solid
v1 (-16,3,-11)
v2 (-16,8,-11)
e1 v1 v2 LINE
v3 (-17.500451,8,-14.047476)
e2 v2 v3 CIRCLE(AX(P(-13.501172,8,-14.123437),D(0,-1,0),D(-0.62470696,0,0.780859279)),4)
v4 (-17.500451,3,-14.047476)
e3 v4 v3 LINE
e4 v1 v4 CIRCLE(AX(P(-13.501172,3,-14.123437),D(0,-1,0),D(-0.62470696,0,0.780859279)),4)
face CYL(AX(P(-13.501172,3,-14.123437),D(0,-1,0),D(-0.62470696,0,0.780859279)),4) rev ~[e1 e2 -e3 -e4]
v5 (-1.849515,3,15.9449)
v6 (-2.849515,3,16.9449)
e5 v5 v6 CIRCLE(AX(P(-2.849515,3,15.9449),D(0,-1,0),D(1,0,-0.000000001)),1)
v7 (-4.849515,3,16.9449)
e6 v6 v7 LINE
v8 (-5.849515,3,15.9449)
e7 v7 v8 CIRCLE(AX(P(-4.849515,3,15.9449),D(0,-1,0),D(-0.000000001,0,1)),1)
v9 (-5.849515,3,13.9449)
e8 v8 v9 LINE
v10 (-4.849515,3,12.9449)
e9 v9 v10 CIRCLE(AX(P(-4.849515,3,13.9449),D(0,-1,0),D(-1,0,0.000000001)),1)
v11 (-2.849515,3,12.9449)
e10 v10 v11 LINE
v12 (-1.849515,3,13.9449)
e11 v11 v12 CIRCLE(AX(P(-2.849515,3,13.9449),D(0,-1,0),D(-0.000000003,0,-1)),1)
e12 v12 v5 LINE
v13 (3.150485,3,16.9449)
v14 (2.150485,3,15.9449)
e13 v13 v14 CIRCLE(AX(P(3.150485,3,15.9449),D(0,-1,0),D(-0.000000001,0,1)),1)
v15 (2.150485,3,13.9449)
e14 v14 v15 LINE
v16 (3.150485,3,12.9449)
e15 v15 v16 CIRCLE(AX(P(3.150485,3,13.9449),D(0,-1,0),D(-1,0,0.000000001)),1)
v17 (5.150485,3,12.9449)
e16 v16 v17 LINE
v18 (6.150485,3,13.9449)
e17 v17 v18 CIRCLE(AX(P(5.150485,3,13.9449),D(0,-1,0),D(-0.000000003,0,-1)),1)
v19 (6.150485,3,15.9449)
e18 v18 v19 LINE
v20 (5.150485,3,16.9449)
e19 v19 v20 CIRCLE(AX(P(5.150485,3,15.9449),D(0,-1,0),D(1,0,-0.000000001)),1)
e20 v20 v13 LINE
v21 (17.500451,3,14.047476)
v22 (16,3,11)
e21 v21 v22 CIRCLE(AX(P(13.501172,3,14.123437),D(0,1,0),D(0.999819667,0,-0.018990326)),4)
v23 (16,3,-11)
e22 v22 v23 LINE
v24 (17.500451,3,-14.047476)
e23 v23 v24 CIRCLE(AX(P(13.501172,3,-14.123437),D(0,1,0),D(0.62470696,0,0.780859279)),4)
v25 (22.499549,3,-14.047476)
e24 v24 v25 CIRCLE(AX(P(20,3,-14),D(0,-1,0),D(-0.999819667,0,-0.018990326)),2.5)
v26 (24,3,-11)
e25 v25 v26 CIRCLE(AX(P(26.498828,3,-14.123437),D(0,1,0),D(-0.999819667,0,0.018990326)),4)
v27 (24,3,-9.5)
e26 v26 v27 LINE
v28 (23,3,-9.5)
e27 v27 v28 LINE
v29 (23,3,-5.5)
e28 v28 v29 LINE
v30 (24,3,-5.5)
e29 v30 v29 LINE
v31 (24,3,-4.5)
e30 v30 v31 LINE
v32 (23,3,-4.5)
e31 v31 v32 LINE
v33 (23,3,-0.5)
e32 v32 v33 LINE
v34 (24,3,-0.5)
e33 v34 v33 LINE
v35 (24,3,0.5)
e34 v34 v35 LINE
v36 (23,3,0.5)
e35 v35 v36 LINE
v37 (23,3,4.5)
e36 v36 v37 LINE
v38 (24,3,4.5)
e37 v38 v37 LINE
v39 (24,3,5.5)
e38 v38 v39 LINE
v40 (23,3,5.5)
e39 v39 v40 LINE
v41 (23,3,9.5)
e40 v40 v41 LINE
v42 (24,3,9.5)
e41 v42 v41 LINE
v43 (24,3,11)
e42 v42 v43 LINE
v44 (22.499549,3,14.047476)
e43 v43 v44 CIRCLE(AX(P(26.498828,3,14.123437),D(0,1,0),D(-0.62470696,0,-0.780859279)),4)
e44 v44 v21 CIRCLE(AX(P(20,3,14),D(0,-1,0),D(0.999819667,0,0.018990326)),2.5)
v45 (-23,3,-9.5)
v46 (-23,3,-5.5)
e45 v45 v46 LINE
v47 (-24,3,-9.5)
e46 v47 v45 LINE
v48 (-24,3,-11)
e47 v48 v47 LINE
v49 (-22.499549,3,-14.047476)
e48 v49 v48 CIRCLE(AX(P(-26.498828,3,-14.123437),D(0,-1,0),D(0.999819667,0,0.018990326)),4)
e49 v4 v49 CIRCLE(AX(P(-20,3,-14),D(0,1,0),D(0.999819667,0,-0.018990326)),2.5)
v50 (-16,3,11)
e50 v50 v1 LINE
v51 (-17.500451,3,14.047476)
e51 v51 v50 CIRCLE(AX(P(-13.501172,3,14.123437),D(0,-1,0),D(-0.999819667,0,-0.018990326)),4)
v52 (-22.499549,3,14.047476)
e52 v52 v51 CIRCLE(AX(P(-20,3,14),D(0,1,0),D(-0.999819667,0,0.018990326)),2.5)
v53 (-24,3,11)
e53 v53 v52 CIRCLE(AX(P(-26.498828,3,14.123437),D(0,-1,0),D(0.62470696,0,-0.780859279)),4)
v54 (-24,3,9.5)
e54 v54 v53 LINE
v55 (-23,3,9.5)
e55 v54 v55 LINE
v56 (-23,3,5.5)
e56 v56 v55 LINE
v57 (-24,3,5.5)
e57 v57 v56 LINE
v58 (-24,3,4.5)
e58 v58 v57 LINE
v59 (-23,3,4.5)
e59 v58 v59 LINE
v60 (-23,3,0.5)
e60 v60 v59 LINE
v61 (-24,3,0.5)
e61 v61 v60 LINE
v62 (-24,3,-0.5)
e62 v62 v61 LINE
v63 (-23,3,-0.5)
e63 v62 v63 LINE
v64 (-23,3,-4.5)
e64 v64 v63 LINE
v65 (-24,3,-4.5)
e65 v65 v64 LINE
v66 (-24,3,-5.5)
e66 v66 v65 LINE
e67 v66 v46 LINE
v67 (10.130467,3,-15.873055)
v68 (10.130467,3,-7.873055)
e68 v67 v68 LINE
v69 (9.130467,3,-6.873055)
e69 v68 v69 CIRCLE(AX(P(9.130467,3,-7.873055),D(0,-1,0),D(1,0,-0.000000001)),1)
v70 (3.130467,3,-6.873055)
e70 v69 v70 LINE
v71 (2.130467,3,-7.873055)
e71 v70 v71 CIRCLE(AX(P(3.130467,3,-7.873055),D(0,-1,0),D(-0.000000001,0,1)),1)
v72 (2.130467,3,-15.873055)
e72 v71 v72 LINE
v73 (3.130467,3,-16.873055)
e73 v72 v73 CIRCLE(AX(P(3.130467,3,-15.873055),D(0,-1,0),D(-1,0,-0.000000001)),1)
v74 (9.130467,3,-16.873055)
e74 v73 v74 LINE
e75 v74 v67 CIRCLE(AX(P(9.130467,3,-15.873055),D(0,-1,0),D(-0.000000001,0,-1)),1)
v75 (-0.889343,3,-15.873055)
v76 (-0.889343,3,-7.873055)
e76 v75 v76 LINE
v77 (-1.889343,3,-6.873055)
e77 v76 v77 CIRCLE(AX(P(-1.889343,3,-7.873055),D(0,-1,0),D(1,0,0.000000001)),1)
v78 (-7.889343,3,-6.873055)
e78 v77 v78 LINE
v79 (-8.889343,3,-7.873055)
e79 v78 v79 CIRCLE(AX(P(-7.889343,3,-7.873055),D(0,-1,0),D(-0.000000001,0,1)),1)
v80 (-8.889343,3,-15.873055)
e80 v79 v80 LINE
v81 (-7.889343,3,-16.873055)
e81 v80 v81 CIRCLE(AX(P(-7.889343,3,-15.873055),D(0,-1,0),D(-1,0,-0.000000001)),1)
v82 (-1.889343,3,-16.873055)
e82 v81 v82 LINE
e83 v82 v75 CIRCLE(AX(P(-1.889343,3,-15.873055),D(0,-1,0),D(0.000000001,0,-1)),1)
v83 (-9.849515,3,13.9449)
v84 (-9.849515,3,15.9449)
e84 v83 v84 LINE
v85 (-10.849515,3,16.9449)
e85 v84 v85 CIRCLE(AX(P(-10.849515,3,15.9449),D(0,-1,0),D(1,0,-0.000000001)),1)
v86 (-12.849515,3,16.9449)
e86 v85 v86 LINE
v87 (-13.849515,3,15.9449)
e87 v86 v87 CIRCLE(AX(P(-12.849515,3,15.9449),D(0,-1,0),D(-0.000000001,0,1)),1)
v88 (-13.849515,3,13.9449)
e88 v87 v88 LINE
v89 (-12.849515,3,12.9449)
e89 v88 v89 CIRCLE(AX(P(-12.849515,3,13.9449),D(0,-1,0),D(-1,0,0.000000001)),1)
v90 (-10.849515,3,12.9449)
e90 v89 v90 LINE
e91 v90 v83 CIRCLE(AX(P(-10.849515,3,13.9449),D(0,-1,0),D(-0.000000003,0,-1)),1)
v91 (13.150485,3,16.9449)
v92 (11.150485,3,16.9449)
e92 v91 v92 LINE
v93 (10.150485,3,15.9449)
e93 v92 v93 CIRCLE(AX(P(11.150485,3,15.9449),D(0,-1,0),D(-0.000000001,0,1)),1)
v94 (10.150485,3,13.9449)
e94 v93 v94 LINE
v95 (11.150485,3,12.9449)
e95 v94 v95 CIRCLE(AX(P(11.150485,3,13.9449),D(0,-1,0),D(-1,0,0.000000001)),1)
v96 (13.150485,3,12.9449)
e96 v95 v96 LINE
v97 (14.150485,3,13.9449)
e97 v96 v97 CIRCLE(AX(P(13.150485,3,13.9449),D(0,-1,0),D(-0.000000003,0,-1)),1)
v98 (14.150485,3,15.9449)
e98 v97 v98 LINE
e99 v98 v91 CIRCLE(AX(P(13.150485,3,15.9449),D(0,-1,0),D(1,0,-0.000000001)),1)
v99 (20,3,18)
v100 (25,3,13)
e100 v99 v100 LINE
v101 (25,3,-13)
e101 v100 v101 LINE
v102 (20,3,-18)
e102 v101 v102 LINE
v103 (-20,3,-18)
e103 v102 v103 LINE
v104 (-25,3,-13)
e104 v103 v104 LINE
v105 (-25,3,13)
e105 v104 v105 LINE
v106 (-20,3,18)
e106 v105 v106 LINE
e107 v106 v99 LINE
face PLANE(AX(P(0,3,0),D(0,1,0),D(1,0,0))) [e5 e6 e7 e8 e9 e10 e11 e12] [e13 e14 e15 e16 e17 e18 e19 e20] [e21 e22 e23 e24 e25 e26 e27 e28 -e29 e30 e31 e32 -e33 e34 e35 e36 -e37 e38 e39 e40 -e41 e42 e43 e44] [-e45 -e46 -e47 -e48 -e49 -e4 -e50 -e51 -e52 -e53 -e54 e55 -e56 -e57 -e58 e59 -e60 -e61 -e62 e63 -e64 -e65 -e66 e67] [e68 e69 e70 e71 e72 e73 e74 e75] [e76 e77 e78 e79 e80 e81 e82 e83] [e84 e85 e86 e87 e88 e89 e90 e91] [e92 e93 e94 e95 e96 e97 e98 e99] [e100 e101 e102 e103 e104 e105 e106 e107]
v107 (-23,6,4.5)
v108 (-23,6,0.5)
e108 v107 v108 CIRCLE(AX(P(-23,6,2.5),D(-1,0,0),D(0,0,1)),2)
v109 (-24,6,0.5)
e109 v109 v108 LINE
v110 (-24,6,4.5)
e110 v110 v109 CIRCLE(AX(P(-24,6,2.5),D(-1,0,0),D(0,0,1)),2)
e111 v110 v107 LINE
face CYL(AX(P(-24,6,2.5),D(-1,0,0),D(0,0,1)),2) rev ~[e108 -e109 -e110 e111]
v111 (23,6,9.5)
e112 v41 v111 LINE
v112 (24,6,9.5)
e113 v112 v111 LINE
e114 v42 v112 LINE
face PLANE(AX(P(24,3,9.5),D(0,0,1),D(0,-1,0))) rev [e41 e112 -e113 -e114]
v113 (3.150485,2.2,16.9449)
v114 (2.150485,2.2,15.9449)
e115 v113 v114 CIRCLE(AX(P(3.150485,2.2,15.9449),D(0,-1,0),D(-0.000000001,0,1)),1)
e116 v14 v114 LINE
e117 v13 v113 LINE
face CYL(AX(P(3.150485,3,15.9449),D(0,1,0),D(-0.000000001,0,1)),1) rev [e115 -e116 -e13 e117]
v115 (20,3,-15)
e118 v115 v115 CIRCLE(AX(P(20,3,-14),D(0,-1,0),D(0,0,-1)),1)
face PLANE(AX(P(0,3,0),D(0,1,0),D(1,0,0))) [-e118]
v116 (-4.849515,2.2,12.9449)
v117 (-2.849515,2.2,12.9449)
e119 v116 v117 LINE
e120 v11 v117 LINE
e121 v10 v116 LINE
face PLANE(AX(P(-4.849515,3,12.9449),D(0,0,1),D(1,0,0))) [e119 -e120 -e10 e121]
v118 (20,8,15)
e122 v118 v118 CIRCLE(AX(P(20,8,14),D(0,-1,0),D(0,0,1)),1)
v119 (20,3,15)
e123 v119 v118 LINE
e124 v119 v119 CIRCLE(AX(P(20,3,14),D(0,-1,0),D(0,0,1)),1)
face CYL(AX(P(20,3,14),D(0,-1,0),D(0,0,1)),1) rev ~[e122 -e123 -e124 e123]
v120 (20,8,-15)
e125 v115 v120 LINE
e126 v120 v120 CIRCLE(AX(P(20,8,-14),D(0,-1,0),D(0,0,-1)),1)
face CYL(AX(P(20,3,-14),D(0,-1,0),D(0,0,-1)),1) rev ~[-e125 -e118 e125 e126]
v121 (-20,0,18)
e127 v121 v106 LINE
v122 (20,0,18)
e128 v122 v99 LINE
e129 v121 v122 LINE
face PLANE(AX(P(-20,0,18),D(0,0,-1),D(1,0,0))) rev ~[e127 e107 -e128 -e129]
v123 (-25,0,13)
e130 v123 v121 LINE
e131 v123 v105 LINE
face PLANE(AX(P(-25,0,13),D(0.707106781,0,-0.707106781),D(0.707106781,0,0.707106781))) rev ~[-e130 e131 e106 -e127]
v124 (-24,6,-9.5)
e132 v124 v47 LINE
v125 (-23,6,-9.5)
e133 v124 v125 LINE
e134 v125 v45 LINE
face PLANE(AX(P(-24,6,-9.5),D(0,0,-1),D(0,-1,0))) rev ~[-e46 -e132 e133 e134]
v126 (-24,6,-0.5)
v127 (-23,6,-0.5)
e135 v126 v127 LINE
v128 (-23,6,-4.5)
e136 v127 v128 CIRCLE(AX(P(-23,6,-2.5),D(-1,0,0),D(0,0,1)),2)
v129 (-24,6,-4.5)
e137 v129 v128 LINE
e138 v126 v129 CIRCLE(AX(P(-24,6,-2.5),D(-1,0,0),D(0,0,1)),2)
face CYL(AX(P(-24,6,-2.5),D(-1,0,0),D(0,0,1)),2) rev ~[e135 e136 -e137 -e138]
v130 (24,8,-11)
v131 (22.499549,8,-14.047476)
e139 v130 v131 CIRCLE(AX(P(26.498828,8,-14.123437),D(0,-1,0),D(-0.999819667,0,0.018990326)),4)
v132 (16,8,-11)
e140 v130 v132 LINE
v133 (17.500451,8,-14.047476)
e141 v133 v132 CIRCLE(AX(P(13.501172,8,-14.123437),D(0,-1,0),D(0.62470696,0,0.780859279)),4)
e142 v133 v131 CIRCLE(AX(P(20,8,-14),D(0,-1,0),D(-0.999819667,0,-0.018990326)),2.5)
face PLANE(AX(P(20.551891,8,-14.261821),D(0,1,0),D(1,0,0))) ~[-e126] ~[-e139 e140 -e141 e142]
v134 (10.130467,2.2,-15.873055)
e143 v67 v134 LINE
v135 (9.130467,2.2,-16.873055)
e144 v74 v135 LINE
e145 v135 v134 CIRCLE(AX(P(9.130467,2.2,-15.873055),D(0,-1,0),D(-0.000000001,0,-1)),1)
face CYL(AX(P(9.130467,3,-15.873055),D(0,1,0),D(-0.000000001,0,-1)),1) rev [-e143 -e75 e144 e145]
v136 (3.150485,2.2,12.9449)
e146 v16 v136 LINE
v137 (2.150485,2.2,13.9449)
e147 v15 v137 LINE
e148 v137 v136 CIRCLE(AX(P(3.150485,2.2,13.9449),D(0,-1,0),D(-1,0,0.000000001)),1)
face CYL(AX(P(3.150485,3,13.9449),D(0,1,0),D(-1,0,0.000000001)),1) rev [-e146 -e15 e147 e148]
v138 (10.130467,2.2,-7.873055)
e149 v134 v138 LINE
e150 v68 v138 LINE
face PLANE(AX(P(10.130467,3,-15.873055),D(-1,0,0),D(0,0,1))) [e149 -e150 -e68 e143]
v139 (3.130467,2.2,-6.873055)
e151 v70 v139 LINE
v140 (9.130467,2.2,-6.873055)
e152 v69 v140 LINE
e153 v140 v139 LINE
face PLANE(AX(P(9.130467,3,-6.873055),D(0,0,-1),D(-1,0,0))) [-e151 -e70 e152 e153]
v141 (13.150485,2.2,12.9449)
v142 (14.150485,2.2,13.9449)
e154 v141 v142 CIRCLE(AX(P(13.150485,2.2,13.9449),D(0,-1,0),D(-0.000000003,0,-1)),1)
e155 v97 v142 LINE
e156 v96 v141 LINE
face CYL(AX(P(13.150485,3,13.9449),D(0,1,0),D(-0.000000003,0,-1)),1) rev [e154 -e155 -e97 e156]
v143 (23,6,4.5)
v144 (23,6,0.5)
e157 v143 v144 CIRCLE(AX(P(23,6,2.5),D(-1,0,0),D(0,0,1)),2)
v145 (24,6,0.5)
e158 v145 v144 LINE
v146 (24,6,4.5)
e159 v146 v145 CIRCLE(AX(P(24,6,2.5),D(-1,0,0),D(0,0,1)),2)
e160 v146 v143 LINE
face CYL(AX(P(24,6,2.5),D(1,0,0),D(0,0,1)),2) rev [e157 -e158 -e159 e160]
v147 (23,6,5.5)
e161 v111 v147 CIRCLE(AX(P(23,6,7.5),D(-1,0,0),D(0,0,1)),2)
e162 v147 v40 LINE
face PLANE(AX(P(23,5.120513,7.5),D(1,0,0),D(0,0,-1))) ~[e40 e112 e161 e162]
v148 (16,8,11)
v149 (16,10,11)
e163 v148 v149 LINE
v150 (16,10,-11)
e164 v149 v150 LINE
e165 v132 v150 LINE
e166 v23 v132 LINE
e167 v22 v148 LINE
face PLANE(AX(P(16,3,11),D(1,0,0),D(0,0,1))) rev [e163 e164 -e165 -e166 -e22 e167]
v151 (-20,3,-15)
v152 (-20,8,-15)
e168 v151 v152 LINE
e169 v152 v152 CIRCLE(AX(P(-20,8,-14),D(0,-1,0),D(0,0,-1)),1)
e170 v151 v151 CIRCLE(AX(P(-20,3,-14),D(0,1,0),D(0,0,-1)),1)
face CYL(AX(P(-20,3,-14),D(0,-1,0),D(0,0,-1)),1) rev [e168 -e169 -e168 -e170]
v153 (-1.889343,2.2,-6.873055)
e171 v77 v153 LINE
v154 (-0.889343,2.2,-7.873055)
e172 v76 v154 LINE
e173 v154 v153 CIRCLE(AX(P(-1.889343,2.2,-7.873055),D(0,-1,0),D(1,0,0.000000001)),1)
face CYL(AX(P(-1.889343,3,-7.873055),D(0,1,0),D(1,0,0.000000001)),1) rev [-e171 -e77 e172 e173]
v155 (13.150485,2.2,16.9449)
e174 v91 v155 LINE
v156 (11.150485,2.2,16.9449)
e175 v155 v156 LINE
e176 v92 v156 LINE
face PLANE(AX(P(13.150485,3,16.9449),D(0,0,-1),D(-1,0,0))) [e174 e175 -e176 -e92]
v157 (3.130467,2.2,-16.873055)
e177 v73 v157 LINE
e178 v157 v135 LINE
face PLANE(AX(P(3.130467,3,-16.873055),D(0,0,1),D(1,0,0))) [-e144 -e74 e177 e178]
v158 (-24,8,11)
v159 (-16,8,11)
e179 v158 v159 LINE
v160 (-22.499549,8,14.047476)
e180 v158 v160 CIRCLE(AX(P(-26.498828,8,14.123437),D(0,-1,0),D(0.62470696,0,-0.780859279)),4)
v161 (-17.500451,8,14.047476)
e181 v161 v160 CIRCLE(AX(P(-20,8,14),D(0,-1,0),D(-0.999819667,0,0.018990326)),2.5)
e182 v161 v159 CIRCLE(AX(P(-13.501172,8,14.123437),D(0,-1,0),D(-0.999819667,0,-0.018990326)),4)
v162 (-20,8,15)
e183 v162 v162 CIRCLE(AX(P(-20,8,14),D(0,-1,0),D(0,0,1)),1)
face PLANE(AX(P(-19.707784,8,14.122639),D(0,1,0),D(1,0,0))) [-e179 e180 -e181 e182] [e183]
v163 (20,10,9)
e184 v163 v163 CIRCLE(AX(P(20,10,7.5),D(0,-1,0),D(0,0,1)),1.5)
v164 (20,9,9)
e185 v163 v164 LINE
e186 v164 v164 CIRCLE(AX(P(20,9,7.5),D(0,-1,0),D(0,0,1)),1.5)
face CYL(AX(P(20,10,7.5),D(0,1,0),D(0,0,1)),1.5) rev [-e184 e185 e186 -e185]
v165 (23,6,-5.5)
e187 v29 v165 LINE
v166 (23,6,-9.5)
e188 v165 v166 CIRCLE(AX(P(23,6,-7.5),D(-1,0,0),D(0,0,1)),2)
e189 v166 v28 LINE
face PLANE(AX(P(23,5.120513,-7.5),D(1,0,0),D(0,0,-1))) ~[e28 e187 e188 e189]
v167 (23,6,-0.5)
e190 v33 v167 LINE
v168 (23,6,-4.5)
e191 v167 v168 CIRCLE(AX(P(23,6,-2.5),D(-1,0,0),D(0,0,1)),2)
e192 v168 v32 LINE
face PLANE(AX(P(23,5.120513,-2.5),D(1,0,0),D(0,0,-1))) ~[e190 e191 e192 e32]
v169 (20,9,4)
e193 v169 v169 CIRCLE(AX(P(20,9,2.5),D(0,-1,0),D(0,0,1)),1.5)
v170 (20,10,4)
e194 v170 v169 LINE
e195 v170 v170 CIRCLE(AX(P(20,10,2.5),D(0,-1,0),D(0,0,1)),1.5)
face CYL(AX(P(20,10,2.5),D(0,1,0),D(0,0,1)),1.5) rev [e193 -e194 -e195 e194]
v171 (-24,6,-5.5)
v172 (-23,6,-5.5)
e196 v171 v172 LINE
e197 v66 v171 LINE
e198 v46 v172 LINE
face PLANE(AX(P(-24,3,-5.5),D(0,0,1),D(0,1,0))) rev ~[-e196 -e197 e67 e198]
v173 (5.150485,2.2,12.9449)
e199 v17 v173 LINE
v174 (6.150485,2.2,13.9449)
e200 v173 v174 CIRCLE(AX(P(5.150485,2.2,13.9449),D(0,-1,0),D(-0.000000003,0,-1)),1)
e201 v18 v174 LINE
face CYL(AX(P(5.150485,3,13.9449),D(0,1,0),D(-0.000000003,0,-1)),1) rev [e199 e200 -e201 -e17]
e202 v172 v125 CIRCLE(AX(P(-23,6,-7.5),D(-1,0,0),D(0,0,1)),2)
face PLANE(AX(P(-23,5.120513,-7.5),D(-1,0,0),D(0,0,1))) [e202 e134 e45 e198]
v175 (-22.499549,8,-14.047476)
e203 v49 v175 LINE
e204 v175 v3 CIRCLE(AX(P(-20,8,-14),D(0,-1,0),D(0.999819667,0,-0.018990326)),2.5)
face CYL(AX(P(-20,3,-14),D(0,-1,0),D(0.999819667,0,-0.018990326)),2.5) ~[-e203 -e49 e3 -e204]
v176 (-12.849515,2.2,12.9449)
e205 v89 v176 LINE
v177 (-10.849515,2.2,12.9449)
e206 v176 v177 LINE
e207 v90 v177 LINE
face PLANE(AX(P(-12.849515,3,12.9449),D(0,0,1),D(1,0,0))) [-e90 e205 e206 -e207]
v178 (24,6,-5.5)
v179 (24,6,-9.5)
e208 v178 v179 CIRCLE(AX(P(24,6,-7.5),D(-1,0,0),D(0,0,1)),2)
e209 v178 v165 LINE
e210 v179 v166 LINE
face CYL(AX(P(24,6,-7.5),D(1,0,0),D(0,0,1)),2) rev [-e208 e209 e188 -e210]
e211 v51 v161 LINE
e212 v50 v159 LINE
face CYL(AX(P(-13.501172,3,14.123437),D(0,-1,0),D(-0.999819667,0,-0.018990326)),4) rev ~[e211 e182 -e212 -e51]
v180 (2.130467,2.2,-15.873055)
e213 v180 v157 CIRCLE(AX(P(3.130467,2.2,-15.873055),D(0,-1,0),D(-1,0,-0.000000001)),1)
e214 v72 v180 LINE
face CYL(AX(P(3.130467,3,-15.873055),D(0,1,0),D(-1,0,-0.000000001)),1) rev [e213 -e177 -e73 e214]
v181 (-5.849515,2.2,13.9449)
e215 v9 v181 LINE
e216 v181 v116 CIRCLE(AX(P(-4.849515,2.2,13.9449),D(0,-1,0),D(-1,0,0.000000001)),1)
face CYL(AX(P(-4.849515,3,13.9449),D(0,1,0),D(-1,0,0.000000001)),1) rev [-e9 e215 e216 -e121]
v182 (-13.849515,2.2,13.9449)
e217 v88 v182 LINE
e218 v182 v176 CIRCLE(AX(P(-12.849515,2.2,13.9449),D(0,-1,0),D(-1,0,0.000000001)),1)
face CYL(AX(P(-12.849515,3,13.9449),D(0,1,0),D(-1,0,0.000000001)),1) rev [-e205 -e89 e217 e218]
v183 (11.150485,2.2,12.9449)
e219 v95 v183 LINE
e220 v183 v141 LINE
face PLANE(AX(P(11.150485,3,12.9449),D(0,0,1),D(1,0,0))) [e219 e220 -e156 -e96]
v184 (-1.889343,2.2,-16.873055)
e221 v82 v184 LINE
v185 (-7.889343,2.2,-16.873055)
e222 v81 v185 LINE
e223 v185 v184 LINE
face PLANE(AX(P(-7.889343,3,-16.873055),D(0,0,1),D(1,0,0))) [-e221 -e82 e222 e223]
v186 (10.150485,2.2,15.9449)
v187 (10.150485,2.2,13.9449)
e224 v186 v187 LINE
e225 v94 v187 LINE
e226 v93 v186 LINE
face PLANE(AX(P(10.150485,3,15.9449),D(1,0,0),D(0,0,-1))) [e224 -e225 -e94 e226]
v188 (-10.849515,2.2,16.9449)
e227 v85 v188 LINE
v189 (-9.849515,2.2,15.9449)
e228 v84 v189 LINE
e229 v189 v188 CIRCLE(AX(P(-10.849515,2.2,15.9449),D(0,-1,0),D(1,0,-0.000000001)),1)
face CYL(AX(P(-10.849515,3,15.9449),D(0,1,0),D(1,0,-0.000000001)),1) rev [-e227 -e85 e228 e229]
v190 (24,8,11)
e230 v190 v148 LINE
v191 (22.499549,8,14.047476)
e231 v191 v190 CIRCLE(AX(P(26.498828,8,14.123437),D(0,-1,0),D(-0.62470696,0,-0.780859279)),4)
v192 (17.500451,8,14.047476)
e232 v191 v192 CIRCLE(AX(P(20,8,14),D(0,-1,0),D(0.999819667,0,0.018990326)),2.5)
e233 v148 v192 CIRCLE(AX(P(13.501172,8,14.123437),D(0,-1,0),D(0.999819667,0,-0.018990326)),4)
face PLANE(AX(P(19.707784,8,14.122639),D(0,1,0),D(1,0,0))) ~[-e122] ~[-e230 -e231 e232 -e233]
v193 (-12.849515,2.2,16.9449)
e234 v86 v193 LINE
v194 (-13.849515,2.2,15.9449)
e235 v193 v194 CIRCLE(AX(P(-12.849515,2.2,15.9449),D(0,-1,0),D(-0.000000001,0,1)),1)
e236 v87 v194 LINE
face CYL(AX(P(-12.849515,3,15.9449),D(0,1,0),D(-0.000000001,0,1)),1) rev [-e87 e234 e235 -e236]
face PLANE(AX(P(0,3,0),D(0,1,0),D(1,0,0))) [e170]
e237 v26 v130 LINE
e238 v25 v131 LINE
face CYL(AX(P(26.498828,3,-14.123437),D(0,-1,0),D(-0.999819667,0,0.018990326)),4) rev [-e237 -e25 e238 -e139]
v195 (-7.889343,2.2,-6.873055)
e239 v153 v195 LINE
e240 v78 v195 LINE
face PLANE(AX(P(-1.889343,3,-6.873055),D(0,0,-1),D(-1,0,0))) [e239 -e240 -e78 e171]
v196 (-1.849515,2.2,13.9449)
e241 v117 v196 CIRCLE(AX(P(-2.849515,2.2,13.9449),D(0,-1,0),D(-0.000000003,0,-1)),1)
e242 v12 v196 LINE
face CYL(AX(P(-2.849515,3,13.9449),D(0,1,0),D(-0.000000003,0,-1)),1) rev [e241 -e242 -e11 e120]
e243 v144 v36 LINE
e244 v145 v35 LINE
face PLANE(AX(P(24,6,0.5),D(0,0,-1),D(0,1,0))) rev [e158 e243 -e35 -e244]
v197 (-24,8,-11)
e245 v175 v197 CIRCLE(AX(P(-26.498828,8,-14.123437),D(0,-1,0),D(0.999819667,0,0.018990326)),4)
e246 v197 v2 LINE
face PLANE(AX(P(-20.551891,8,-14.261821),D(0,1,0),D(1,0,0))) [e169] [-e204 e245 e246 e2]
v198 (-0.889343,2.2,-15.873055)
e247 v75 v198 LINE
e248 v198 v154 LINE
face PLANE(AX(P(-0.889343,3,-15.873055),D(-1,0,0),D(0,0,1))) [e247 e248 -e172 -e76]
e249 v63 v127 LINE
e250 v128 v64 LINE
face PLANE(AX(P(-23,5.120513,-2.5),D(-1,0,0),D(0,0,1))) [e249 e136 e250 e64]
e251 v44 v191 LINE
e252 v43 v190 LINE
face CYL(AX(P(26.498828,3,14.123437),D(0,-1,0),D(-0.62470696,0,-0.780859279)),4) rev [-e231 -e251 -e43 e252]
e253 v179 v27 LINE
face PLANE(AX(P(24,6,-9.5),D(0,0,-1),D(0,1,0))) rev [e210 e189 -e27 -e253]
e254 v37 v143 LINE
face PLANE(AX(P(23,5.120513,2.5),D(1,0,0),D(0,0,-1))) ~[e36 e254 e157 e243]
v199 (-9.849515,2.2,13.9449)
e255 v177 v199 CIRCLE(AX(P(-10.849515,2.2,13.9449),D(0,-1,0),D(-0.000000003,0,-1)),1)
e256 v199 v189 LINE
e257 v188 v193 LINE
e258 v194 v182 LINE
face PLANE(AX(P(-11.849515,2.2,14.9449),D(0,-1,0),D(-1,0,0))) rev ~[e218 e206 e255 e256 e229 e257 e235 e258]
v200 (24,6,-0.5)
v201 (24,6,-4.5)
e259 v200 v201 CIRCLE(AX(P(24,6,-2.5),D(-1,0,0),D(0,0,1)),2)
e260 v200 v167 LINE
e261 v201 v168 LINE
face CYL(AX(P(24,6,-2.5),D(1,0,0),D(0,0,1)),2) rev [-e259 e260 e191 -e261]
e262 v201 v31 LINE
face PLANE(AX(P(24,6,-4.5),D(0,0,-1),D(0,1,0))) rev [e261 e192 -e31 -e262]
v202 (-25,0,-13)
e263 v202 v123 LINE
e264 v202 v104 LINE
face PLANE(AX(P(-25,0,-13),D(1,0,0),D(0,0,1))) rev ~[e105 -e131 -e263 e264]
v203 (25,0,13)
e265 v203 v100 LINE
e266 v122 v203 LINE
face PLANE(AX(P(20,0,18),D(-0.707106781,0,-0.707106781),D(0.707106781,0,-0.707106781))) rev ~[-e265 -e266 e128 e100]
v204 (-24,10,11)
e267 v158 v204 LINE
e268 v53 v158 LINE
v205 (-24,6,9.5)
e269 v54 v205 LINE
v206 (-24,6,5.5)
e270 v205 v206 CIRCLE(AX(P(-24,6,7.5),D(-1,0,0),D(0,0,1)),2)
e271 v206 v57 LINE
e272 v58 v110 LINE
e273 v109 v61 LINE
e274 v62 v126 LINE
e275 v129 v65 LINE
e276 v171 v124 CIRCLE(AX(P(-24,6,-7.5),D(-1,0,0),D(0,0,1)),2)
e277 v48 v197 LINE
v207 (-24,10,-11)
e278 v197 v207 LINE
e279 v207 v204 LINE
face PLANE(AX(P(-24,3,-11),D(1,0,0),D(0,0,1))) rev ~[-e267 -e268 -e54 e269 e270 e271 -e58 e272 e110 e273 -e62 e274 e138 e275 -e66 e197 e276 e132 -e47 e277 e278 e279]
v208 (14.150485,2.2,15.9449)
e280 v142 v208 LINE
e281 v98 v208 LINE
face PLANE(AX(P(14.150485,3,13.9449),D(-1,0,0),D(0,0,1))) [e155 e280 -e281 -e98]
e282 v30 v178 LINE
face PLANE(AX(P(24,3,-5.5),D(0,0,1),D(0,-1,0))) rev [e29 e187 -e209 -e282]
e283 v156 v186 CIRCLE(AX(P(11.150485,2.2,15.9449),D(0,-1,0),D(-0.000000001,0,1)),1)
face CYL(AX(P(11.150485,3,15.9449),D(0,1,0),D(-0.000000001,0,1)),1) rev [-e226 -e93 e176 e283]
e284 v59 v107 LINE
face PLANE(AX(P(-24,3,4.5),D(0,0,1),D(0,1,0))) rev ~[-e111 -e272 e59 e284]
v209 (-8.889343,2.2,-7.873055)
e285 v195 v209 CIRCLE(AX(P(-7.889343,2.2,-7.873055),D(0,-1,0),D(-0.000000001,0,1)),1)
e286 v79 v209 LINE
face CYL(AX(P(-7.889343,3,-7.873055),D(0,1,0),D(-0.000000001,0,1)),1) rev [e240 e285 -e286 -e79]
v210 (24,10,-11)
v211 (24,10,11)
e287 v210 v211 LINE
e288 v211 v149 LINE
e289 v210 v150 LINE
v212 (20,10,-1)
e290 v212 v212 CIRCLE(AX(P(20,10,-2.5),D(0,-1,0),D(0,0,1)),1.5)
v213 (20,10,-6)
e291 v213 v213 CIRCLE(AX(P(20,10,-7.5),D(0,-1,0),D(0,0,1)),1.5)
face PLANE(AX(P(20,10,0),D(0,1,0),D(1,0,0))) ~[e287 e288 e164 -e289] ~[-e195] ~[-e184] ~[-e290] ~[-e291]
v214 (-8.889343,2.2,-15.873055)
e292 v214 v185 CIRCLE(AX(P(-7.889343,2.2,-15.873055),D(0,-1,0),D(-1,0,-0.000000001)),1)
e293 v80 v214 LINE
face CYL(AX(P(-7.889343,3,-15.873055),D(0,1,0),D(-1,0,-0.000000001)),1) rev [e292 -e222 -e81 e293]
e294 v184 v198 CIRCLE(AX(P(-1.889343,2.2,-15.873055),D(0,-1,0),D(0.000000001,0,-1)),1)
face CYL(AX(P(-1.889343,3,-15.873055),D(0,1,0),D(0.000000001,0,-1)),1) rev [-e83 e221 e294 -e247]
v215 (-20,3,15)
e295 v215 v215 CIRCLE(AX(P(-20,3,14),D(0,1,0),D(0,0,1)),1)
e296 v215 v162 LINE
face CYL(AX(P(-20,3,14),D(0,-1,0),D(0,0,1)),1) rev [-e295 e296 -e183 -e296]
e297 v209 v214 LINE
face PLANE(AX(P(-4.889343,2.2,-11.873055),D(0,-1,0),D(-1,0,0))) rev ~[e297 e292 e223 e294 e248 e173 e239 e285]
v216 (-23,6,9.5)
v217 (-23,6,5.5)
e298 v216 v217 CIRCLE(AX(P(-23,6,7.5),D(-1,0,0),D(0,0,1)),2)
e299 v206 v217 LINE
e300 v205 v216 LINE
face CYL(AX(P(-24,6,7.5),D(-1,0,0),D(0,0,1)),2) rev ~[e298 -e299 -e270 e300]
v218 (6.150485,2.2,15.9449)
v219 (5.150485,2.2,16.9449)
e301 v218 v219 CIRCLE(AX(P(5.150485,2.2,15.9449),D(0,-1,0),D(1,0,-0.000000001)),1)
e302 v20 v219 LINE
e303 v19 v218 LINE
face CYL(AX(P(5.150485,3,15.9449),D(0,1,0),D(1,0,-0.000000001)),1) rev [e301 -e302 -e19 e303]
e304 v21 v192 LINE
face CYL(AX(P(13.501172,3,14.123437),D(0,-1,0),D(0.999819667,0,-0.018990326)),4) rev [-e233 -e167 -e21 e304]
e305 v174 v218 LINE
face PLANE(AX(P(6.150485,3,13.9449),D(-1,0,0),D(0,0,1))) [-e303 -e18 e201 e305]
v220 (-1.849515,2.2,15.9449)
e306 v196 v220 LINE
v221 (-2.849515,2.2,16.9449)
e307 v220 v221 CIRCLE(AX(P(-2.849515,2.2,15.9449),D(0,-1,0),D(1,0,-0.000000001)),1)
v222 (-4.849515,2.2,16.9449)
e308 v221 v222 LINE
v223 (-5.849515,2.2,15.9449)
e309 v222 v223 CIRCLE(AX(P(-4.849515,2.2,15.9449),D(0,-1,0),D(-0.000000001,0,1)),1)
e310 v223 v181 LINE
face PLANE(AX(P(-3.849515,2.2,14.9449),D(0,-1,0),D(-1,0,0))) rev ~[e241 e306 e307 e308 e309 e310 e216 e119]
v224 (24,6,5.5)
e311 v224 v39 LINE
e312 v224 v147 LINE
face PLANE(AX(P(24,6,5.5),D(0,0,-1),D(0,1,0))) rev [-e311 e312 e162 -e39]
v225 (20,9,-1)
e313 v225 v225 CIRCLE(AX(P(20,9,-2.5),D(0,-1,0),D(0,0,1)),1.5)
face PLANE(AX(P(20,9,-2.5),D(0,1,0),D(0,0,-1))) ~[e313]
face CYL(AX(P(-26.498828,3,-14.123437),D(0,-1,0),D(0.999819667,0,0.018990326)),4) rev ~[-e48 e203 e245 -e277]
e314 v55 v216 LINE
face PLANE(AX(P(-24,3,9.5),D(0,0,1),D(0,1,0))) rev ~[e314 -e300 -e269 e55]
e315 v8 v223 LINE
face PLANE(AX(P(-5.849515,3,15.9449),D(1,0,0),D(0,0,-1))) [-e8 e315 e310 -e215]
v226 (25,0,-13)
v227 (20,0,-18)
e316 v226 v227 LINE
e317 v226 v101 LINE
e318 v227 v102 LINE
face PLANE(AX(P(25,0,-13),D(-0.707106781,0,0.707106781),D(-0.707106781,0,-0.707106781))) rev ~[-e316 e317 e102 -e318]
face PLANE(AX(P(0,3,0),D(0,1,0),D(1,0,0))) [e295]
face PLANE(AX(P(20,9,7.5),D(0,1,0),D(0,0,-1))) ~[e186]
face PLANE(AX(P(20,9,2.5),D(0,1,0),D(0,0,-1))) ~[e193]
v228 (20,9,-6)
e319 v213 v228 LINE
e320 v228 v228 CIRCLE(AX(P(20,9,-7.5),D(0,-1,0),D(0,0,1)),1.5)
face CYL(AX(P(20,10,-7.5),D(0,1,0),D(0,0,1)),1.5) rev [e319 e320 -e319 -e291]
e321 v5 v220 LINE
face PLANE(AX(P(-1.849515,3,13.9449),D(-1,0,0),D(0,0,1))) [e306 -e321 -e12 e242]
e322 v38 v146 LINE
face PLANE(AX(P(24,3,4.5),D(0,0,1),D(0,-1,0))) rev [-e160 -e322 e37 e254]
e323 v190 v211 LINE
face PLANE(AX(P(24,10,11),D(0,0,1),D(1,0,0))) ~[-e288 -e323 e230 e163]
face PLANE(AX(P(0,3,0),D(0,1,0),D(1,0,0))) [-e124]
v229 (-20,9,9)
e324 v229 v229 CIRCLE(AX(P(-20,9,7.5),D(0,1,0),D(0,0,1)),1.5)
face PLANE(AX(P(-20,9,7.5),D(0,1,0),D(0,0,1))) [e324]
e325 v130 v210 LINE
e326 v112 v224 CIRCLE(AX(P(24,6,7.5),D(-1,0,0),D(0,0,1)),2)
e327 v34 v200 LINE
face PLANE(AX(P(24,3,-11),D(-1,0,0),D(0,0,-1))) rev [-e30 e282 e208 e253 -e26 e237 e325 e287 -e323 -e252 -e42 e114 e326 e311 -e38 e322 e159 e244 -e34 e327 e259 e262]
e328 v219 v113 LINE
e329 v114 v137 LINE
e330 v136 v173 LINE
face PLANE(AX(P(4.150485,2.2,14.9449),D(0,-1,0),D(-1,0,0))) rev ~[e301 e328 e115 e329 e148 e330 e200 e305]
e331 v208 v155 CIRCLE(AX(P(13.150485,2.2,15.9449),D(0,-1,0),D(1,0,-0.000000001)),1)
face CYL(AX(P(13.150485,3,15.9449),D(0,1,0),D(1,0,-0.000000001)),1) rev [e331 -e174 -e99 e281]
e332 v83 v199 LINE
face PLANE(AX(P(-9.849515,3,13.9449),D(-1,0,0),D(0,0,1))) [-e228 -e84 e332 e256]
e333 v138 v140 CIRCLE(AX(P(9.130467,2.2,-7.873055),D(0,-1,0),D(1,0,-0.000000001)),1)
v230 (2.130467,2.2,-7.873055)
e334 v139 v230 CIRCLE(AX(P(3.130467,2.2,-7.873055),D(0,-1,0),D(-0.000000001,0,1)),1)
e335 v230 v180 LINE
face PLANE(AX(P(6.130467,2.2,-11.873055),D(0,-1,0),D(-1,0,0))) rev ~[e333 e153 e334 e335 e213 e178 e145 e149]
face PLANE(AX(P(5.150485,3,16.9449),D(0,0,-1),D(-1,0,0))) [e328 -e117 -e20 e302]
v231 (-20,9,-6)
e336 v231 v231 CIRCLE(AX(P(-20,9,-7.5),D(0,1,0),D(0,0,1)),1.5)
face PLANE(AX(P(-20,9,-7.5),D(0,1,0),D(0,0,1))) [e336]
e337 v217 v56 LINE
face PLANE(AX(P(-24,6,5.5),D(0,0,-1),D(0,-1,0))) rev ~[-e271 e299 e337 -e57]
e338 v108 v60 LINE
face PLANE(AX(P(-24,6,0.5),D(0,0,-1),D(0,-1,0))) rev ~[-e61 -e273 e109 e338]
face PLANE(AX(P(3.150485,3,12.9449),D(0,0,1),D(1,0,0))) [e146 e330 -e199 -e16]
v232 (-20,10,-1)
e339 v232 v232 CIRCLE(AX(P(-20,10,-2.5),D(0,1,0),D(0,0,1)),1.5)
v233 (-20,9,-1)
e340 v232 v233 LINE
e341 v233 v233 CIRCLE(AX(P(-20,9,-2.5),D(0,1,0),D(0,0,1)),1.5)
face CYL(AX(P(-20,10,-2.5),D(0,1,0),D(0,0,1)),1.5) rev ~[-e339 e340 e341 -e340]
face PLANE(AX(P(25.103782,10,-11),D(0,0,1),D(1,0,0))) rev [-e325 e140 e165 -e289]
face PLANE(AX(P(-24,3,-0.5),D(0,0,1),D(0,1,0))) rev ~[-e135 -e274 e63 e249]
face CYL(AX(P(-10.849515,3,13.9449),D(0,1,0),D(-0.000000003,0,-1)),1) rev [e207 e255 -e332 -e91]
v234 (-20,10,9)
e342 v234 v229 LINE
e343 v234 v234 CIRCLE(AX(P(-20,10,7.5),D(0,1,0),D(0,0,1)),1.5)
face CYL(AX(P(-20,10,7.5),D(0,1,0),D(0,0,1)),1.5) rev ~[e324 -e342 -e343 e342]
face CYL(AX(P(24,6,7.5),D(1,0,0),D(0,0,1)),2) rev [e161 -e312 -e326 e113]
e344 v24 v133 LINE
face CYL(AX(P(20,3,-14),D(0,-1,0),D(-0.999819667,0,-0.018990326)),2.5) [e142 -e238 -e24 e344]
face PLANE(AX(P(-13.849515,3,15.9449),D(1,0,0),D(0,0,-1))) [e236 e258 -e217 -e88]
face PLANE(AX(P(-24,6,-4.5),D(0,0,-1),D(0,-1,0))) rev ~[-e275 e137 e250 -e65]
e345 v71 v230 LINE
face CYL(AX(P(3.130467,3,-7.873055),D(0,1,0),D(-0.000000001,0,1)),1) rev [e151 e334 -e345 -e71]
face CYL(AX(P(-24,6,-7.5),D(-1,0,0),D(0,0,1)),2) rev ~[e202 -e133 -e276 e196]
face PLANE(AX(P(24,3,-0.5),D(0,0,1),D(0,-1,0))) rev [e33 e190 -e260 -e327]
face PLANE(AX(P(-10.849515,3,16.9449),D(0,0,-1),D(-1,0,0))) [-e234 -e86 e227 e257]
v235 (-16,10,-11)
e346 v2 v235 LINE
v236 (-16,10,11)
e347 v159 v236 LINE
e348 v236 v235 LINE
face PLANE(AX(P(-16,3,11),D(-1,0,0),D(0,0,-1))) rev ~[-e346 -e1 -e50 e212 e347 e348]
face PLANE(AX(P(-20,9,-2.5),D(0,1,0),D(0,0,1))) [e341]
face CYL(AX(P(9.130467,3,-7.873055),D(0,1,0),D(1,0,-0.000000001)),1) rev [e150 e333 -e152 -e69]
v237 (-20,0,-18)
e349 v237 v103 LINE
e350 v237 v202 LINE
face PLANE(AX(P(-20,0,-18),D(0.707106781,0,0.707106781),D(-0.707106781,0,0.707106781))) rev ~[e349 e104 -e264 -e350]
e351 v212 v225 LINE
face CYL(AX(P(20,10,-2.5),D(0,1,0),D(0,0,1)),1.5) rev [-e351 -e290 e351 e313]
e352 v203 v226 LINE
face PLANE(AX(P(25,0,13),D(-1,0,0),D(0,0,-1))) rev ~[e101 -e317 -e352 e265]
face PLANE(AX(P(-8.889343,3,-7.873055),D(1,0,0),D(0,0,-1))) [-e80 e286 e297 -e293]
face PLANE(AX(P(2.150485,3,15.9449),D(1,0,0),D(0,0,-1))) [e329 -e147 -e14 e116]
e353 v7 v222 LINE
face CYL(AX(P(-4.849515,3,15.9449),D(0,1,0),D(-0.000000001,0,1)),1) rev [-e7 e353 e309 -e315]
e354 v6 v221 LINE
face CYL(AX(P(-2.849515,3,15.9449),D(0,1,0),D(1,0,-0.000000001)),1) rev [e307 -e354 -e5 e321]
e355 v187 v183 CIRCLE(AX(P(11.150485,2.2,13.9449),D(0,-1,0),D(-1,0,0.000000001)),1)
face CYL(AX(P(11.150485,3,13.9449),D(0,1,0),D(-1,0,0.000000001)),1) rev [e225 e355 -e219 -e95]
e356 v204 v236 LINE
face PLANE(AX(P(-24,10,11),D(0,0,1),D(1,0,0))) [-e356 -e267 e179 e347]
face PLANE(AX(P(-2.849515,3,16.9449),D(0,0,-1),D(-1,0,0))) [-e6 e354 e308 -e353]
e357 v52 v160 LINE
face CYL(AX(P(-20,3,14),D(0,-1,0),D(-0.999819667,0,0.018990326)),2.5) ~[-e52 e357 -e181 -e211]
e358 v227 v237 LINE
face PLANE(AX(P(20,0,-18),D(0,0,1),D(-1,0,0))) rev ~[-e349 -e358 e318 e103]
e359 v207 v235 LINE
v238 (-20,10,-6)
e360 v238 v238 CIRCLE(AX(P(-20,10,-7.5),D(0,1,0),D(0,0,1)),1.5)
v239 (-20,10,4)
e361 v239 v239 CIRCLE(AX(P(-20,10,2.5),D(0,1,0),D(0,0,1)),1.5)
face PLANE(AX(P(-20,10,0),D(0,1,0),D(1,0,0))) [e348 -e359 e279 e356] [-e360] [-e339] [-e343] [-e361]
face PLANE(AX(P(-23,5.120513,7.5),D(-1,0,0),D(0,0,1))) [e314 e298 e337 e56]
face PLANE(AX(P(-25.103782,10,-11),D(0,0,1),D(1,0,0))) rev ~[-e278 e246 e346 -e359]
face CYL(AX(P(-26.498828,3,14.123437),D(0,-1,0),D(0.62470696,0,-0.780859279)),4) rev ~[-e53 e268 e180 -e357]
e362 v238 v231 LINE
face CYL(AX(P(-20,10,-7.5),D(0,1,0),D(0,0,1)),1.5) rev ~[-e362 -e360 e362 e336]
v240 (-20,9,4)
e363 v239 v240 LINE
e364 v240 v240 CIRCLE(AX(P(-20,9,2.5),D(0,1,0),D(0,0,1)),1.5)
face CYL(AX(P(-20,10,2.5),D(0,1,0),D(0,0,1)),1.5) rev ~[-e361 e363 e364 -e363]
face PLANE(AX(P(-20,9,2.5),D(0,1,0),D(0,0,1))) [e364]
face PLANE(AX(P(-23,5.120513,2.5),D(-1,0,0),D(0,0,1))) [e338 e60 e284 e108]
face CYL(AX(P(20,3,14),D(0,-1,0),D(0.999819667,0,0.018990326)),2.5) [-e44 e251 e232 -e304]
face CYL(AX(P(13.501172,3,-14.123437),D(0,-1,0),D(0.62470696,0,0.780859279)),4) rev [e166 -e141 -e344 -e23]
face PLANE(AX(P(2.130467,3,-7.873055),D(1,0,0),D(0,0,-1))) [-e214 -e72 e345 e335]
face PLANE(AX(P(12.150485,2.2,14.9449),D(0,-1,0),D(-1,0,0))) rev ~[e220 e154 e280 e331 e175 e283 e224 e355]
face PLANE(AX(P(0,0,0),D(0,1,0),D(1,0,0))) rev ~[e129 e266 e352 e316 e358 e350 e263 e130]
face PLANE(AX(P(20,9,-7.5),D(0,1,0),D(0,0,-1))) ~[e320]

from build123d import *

# Parameters (mm, degrees)
SALIENTE_EXTRUIR1_DEPTH = 3
CROQUIS2_R              = 1
SALIENTE_EXTRUIR2_DEPTH = 7
CROQUIS3_W              = 8.584431172
CROQUIS3_H              = 6.245278734
CROQUIS3_W_2            = 9.103782271
CROQUIS3_H_2            = 6.523642819
CORTAR_EXTRUIR1_DEPTH   = 2
CROQUIS4_R              = 1.5
CORTAR_EXTRUIR2_DEPTH   = 1
CORTAR_EXTRUIR3_DEPTH   = 1
CORTAR_EXTRUIR4_DEPTH   = 0.8


with BuildPart() as part:
    # Croquis1 → Saliente-Extruir1 (new body)
    with BuildSketch(Plane(origin=(0, 0, 0), x_dir=(1, 0, 0), z_dir=(0, 1, 0))):
        Polygon((-25, -13), (-20, -18), (20, -18), (25, -13), (25, 13), (20, 18), (-20, 18), (-25, 13), align=None)
    extrude(amount=SALIENTE_EXTRUIR1_DEPTH)

    # Croquis2 → Saliente-Extruir2 (add)
    with BuildSketch(Plane(origin=(0, 3, 0), x_dir=(1, 0, 0), z_dir=(0, 1, 0))):
        with BuildLine():
            Line((-24, 11), (-24, -11))
            ThreePointArc((-24, -11), (-22.910217487, -12.356554061), (-22.499549169, -14.047475815))
            ThreePointArc((-22.499549169, -14.047475815), (-20, -16.5), (-17.500450831, -14.047475815))
            ThreePointArc((-17.500450831, -14.047475815), (-17.089782513, -12.356554061), (-16, -11))
            Line((-16, -11), (-16, 11))
            ThreePointArc((-16, 11), (-17.089782513, 12.356554061), (-17.500450831, 14.047475815))
            ThreePointArc((-17.500450831, 14.047475815), (-20, 16.5), (-22.499549169, 14.047475815))
            ThreePointArc((-22.499549169, 14.047475815), (-22.910217487, 12.356554061), (-24, 11))
        make_face()
        with Locations(Location((-20, -14, 0), (0, 0, 270))):
            Circle(CROQUIS2_R, mode=Mode.SUBTRACT)
        with Locations(Location((-20, 14, 0), (0, 0, 90))):
            Circle(CROQUIS2_R, mode=Mode.SUBTRACT)
    saliente_extruir2 = extrude(amount=SALIENTE_EXTRUIR2_DEPTH)

    # Croquis3 → Cortar-Extruir1 (cut)
    with BuildSketch(Plane(origin=(0, 10, 0), x_dir=(1, 0, 0), z_dir=(0, 1, 0))):
        with Locations((-19.707784414, -14.122639367)):
            Rectangle(CROQUIS3_W, CROQUIS3_H)
        with Locations((-20.551891136, 14.26182141)):
            Rectangle(CROQUIS3_W_2, CROQUIS3_H_2)
    cortar_extruir1 = extrude(amount=-CORTAR_EXTRUIR1_DEPTH, mode=Mode.SUBTRACT)

    # Croquis4 → Cortar-Extruir2 (cut)
    with BuildSketch(Plane(origin=(0, 10, 0), x_dir=(1, 0, 0), z_dir=(0, 1, 0))):
        with Locations(Location((-20, 7.5, 0), (0, 0, 270))):
            Circle(CROQUIS4_R)
        with Locations(Location((-20, 2.5, 0), (0, 0, 270))):
            Circle(CROQUIS4_R)
        with Locations(Location((-20, -2.5, 0), (0, 0, 270))):
            Circle(CROQUIS4_R)
        with Locations(Location((-20, -7.5, 0), (0, 0, 270))):
            Circle(CROQUIS4_R)
    cortar_extruir2 = extrude(amount=-CORTAR_EXTRUIR2_DEPTH, mode=Mode.SUBTRACT)

    # Croquis5 → Cortar-Extruir3 (cut)
    with BuildSketch(Plane.ZY.offset(24)):
        with BuildLine():
            Line((-9.5, 6), (-9.5, 3))
            Line((-9.5, 3), (-5.5, 3))
            Line((-5.5, 3), (-5.5, 6))
            ThreePointArc((-5.5, 6), (-7.5, 8), (-9.5, 6))
        make_face()
        with BuildLine():
            Line((-0.5, 3), (-0.5, 6))
            ThreePointArc((-0.5, 6), (-2.5, 8), (-4.5, 6))
            Line((-4.5, 6), (-4.5, 3))
            Line((-4.5, 3), (-0.5, 3))
        make_face()
        with BuildLine():
            Line((4.5, 3), (4.5, 6))
            ThreePointArc((4.5, 6), (2.5, 8), (0.5, 6))
            Line((0.5, 6), (0.5, 3))
            Line((0.5, 3), (4.5, 3))
        make_face()
        with BuildLine():
            Line((9.5, 3), (9.5, 6))
            ThreePointArc((9.5, 6), (7.5, 8), (5.5, 6))
            Line((5.5, 6), (5.5, 3))
            Line((5.5, 3), (9.5, 3))
        make_face()
    cortar_extruir3 = extrude(amount=-CORTAR_EXTRUIR3_DEPTH, mode=Mode.SUBTRACT)

    # Simetría1: Saliente-Extruir2, Cortar-Extruir1, Cortar-Extruir2, Cortar-Extruir3 across plane
    add(saliente_extruir2.mirror(Plane(origin=(0, 0, 0), x_dir=(0, 0, 1), z_dir=(1, 0, 0))))
    add(cortar_extruir1.mirror(Plane(origin=(0, 0, 0), x_dir=(0, 0, 1), z_dir=(1, 0, 0))), mode=Mode.SUBTRACT)
    add(cortar_extruir2.mirror(Plane(origin=(0, 0, 0), x_dir=(0, 0, 1), z_dir=(1, 0, 0))), mode=Mode.SUBTRACT)
    add(cortar_extruir3.mirror(Plane(origin=(0, 0, 0), x_dir=(0, 0, 1), z_dir=(1, 0, 0))), mode=Mode.SUBTRACT)

    # Croquis6 → Cortar-Extruir4 (cut)
    with BuildSketch(Plane(origin=(0, 3, 0), x_dir=(1, 0, 0), z_dir=(0, 1, 0))):
        with BuildLine():
            Line((-4.849514856, -12.944900329), (-2.849514856, -12.944900329))
            ThreePointArc((-2.849514856, -12.944900329), (-2.142408074, -13.237793547), (-1.849514856, -13.944900329))
            Line((-1.849514856, -13.944900329), (-1.849514856, -15.944900329))
            ThreePointArc((-1.849514856, -15.944900329), (-2.142408074, -16.65200711), (-2.849514856, -16.944900329))
            Line((-2.849514856, -16.944900329), (-4.849514856, -16.944900329))
            ThreePointArc((-4.849514856, -16.944900329), (-5.556621637, -16.65200711), (-5.849514856, -15.944900329))
            Line((-5.849514856, -15.944900329), (-5.849514856, -13.944900329))
            ThreePointArc((-5.849514856, -13.944900329), (-5.556621637, -13.237793547), (-4.849514856, -12.944900329))
        make_face()
        with BuildLine():
            Line((-7.889343155, 16.87305495), (-1.889343155, 16.87305495))
            ThreePointArc((-1.889343155, 16.87305495), (-1.182236374, 16.580161731), (-0.889343155, 15.87305495))
            Line((-0.889343155, 15.87305495), (-0.889343155, 7.87305495))
            ThreePointArc((-0.889343155, 7.87305495), (-1.182236374, 7.165948169), (-1.889343155, 6.87305495))
            Line((-1.889343155, 6.87305495), (-7.889343155, 6.87305495))
            ThreePointArc((-7.889343155, 6.87305495), (-8.596449936, 7.165948169), (-8.889343155, 7.87305495))
            Line((-8.889343155, 7.87305495), (-8.889343155, 15.87305495))
            ThreePointArc((-8.889343155, 15.87305495), (-8.596449936, 16.580161731), (-7.889343155, 16.87305495))
        make_face()
        with BuildLine():
            Line((3.130467216, 16.87305495), (9.130467216, 16.87305495))
            ThreePointArc((9.130467216, 16.87305495), (9.837573998, 16.580161731), (10.130467216, 15.87305495))
            Line((10.130467216, 15.87305495), (10.130467216, 7.87305495))
            ThreePointArc((10.130467216, 7.87305495), (9.837573998, 7.165948169), (9.130467216, 6.87305495))
            Line((9.130467216, 6.87305495), (3.130467216, 6.87305495))
            ThreePointArc((3.130467216, 6.87305495), (2.423360435, 7.165948169), (2.130467216, 7.87305495))
            Line((2.130467216, 7.87305495), (2.130467216, 15.87305495))
            ThreePointArc((2.130467216, 15.87305495), (2.423360435, 16.580161731), (3.130467216, 16.87305495))
        make_face()
        with BuildLine():
            Line((-12.849514856, -12.944900329), (-10.849514856, -12.944900329))
            ThreePointArc((-10.849514856, -12.944900329), (-10.142408074, -13.237793547), (-9.849514856, -13.944900329))
            Line((-9.849514856, -13.944900329), (-9.849514856, -15.944900329))
            ThreePointArc((-9.849514856, -15.944900329), (-10.142408074, -16.65200711), (-10.849514856, -16.944900329))
            Line((-10.849514856, -16.944900329), (-12.849514856, -16.944900329))
            ThreePointArc((-12.849514856, -16.944900329), (-13.556621637, -16.65200711), (-13.849514856, -15.944900329))
            Line((-13.849514856, -15.944900329), (-13.849514856, -13.944900329))
            ThreePointArc((-13.849514856, -13.944900329), (-13.556621637, -13.237793547), (-12.849514856, -12.944900329))
        make_face()
        with BuildLine():
            Line((3.150485144, -12.944900329), (5.150485144, -12.944900329))
            ThreePointArc((5.150485144, -12.944900329), (5.857591926, -13.237793547), (6.150485144, -13.944900329))
            Line((6.150485144, -13.944900329), (6.150485144, -15.944900329))
            ThreePointArc((6.150485144, -15.944900329), (5.857591926, -16.65200711), (5.150485144, -16.944900329))
            Line((5.150485144, -16.944900329), (3.150485144, -16.944900329))
            ThreePointArc((3.150485144, -16.944900329), (2.443378363, -16.65200711), (2.150485144, -15.944900329))
            Line((2.150485144, -15.944900329), (2.150485144, -13.944900329))
            ThreePointArc((2.150485144, -13.944900329), (2.443378363, -13.237793547), (3.150485144, -12.944900329))
        make_face()
        with BuildLine():
            Line((11.150485144, -12.944900329), (13.150485144, -12.944900329))
            ThreePointArc((13.150485144, -12.944900329), (13.857591926, -13.237793547), (14.150485144, -13.944900329))
            Line((14.150485144, -13.944900329), (14.150485144, -15.944900329))
            ThreePointArc((14.150485144, -15.944900329), (13.857591926, -16.65200711), (13.150485144, -16.944900329))
            Line((13.150485144, -16.944900329), (11.150485144, -16.944900329))
            ThreePointArc((11.150485144, -16.944900329), (10.443378363, -16.65200711), (10.150485144, -15.944900329))
            Line((10.150485144, -15.944900329), (10.150485144, -13.944900329))
            ThreePointArc((10.150485144, -13.944900329), (10.443378363, -13.237793547), (11.150485144, -12.944900329))
        make_face()
    extrude(amount=-CORTAR_EXTRUIR4_DEPTH, mode=Mode.SUBTRACT)


solid = part.part
